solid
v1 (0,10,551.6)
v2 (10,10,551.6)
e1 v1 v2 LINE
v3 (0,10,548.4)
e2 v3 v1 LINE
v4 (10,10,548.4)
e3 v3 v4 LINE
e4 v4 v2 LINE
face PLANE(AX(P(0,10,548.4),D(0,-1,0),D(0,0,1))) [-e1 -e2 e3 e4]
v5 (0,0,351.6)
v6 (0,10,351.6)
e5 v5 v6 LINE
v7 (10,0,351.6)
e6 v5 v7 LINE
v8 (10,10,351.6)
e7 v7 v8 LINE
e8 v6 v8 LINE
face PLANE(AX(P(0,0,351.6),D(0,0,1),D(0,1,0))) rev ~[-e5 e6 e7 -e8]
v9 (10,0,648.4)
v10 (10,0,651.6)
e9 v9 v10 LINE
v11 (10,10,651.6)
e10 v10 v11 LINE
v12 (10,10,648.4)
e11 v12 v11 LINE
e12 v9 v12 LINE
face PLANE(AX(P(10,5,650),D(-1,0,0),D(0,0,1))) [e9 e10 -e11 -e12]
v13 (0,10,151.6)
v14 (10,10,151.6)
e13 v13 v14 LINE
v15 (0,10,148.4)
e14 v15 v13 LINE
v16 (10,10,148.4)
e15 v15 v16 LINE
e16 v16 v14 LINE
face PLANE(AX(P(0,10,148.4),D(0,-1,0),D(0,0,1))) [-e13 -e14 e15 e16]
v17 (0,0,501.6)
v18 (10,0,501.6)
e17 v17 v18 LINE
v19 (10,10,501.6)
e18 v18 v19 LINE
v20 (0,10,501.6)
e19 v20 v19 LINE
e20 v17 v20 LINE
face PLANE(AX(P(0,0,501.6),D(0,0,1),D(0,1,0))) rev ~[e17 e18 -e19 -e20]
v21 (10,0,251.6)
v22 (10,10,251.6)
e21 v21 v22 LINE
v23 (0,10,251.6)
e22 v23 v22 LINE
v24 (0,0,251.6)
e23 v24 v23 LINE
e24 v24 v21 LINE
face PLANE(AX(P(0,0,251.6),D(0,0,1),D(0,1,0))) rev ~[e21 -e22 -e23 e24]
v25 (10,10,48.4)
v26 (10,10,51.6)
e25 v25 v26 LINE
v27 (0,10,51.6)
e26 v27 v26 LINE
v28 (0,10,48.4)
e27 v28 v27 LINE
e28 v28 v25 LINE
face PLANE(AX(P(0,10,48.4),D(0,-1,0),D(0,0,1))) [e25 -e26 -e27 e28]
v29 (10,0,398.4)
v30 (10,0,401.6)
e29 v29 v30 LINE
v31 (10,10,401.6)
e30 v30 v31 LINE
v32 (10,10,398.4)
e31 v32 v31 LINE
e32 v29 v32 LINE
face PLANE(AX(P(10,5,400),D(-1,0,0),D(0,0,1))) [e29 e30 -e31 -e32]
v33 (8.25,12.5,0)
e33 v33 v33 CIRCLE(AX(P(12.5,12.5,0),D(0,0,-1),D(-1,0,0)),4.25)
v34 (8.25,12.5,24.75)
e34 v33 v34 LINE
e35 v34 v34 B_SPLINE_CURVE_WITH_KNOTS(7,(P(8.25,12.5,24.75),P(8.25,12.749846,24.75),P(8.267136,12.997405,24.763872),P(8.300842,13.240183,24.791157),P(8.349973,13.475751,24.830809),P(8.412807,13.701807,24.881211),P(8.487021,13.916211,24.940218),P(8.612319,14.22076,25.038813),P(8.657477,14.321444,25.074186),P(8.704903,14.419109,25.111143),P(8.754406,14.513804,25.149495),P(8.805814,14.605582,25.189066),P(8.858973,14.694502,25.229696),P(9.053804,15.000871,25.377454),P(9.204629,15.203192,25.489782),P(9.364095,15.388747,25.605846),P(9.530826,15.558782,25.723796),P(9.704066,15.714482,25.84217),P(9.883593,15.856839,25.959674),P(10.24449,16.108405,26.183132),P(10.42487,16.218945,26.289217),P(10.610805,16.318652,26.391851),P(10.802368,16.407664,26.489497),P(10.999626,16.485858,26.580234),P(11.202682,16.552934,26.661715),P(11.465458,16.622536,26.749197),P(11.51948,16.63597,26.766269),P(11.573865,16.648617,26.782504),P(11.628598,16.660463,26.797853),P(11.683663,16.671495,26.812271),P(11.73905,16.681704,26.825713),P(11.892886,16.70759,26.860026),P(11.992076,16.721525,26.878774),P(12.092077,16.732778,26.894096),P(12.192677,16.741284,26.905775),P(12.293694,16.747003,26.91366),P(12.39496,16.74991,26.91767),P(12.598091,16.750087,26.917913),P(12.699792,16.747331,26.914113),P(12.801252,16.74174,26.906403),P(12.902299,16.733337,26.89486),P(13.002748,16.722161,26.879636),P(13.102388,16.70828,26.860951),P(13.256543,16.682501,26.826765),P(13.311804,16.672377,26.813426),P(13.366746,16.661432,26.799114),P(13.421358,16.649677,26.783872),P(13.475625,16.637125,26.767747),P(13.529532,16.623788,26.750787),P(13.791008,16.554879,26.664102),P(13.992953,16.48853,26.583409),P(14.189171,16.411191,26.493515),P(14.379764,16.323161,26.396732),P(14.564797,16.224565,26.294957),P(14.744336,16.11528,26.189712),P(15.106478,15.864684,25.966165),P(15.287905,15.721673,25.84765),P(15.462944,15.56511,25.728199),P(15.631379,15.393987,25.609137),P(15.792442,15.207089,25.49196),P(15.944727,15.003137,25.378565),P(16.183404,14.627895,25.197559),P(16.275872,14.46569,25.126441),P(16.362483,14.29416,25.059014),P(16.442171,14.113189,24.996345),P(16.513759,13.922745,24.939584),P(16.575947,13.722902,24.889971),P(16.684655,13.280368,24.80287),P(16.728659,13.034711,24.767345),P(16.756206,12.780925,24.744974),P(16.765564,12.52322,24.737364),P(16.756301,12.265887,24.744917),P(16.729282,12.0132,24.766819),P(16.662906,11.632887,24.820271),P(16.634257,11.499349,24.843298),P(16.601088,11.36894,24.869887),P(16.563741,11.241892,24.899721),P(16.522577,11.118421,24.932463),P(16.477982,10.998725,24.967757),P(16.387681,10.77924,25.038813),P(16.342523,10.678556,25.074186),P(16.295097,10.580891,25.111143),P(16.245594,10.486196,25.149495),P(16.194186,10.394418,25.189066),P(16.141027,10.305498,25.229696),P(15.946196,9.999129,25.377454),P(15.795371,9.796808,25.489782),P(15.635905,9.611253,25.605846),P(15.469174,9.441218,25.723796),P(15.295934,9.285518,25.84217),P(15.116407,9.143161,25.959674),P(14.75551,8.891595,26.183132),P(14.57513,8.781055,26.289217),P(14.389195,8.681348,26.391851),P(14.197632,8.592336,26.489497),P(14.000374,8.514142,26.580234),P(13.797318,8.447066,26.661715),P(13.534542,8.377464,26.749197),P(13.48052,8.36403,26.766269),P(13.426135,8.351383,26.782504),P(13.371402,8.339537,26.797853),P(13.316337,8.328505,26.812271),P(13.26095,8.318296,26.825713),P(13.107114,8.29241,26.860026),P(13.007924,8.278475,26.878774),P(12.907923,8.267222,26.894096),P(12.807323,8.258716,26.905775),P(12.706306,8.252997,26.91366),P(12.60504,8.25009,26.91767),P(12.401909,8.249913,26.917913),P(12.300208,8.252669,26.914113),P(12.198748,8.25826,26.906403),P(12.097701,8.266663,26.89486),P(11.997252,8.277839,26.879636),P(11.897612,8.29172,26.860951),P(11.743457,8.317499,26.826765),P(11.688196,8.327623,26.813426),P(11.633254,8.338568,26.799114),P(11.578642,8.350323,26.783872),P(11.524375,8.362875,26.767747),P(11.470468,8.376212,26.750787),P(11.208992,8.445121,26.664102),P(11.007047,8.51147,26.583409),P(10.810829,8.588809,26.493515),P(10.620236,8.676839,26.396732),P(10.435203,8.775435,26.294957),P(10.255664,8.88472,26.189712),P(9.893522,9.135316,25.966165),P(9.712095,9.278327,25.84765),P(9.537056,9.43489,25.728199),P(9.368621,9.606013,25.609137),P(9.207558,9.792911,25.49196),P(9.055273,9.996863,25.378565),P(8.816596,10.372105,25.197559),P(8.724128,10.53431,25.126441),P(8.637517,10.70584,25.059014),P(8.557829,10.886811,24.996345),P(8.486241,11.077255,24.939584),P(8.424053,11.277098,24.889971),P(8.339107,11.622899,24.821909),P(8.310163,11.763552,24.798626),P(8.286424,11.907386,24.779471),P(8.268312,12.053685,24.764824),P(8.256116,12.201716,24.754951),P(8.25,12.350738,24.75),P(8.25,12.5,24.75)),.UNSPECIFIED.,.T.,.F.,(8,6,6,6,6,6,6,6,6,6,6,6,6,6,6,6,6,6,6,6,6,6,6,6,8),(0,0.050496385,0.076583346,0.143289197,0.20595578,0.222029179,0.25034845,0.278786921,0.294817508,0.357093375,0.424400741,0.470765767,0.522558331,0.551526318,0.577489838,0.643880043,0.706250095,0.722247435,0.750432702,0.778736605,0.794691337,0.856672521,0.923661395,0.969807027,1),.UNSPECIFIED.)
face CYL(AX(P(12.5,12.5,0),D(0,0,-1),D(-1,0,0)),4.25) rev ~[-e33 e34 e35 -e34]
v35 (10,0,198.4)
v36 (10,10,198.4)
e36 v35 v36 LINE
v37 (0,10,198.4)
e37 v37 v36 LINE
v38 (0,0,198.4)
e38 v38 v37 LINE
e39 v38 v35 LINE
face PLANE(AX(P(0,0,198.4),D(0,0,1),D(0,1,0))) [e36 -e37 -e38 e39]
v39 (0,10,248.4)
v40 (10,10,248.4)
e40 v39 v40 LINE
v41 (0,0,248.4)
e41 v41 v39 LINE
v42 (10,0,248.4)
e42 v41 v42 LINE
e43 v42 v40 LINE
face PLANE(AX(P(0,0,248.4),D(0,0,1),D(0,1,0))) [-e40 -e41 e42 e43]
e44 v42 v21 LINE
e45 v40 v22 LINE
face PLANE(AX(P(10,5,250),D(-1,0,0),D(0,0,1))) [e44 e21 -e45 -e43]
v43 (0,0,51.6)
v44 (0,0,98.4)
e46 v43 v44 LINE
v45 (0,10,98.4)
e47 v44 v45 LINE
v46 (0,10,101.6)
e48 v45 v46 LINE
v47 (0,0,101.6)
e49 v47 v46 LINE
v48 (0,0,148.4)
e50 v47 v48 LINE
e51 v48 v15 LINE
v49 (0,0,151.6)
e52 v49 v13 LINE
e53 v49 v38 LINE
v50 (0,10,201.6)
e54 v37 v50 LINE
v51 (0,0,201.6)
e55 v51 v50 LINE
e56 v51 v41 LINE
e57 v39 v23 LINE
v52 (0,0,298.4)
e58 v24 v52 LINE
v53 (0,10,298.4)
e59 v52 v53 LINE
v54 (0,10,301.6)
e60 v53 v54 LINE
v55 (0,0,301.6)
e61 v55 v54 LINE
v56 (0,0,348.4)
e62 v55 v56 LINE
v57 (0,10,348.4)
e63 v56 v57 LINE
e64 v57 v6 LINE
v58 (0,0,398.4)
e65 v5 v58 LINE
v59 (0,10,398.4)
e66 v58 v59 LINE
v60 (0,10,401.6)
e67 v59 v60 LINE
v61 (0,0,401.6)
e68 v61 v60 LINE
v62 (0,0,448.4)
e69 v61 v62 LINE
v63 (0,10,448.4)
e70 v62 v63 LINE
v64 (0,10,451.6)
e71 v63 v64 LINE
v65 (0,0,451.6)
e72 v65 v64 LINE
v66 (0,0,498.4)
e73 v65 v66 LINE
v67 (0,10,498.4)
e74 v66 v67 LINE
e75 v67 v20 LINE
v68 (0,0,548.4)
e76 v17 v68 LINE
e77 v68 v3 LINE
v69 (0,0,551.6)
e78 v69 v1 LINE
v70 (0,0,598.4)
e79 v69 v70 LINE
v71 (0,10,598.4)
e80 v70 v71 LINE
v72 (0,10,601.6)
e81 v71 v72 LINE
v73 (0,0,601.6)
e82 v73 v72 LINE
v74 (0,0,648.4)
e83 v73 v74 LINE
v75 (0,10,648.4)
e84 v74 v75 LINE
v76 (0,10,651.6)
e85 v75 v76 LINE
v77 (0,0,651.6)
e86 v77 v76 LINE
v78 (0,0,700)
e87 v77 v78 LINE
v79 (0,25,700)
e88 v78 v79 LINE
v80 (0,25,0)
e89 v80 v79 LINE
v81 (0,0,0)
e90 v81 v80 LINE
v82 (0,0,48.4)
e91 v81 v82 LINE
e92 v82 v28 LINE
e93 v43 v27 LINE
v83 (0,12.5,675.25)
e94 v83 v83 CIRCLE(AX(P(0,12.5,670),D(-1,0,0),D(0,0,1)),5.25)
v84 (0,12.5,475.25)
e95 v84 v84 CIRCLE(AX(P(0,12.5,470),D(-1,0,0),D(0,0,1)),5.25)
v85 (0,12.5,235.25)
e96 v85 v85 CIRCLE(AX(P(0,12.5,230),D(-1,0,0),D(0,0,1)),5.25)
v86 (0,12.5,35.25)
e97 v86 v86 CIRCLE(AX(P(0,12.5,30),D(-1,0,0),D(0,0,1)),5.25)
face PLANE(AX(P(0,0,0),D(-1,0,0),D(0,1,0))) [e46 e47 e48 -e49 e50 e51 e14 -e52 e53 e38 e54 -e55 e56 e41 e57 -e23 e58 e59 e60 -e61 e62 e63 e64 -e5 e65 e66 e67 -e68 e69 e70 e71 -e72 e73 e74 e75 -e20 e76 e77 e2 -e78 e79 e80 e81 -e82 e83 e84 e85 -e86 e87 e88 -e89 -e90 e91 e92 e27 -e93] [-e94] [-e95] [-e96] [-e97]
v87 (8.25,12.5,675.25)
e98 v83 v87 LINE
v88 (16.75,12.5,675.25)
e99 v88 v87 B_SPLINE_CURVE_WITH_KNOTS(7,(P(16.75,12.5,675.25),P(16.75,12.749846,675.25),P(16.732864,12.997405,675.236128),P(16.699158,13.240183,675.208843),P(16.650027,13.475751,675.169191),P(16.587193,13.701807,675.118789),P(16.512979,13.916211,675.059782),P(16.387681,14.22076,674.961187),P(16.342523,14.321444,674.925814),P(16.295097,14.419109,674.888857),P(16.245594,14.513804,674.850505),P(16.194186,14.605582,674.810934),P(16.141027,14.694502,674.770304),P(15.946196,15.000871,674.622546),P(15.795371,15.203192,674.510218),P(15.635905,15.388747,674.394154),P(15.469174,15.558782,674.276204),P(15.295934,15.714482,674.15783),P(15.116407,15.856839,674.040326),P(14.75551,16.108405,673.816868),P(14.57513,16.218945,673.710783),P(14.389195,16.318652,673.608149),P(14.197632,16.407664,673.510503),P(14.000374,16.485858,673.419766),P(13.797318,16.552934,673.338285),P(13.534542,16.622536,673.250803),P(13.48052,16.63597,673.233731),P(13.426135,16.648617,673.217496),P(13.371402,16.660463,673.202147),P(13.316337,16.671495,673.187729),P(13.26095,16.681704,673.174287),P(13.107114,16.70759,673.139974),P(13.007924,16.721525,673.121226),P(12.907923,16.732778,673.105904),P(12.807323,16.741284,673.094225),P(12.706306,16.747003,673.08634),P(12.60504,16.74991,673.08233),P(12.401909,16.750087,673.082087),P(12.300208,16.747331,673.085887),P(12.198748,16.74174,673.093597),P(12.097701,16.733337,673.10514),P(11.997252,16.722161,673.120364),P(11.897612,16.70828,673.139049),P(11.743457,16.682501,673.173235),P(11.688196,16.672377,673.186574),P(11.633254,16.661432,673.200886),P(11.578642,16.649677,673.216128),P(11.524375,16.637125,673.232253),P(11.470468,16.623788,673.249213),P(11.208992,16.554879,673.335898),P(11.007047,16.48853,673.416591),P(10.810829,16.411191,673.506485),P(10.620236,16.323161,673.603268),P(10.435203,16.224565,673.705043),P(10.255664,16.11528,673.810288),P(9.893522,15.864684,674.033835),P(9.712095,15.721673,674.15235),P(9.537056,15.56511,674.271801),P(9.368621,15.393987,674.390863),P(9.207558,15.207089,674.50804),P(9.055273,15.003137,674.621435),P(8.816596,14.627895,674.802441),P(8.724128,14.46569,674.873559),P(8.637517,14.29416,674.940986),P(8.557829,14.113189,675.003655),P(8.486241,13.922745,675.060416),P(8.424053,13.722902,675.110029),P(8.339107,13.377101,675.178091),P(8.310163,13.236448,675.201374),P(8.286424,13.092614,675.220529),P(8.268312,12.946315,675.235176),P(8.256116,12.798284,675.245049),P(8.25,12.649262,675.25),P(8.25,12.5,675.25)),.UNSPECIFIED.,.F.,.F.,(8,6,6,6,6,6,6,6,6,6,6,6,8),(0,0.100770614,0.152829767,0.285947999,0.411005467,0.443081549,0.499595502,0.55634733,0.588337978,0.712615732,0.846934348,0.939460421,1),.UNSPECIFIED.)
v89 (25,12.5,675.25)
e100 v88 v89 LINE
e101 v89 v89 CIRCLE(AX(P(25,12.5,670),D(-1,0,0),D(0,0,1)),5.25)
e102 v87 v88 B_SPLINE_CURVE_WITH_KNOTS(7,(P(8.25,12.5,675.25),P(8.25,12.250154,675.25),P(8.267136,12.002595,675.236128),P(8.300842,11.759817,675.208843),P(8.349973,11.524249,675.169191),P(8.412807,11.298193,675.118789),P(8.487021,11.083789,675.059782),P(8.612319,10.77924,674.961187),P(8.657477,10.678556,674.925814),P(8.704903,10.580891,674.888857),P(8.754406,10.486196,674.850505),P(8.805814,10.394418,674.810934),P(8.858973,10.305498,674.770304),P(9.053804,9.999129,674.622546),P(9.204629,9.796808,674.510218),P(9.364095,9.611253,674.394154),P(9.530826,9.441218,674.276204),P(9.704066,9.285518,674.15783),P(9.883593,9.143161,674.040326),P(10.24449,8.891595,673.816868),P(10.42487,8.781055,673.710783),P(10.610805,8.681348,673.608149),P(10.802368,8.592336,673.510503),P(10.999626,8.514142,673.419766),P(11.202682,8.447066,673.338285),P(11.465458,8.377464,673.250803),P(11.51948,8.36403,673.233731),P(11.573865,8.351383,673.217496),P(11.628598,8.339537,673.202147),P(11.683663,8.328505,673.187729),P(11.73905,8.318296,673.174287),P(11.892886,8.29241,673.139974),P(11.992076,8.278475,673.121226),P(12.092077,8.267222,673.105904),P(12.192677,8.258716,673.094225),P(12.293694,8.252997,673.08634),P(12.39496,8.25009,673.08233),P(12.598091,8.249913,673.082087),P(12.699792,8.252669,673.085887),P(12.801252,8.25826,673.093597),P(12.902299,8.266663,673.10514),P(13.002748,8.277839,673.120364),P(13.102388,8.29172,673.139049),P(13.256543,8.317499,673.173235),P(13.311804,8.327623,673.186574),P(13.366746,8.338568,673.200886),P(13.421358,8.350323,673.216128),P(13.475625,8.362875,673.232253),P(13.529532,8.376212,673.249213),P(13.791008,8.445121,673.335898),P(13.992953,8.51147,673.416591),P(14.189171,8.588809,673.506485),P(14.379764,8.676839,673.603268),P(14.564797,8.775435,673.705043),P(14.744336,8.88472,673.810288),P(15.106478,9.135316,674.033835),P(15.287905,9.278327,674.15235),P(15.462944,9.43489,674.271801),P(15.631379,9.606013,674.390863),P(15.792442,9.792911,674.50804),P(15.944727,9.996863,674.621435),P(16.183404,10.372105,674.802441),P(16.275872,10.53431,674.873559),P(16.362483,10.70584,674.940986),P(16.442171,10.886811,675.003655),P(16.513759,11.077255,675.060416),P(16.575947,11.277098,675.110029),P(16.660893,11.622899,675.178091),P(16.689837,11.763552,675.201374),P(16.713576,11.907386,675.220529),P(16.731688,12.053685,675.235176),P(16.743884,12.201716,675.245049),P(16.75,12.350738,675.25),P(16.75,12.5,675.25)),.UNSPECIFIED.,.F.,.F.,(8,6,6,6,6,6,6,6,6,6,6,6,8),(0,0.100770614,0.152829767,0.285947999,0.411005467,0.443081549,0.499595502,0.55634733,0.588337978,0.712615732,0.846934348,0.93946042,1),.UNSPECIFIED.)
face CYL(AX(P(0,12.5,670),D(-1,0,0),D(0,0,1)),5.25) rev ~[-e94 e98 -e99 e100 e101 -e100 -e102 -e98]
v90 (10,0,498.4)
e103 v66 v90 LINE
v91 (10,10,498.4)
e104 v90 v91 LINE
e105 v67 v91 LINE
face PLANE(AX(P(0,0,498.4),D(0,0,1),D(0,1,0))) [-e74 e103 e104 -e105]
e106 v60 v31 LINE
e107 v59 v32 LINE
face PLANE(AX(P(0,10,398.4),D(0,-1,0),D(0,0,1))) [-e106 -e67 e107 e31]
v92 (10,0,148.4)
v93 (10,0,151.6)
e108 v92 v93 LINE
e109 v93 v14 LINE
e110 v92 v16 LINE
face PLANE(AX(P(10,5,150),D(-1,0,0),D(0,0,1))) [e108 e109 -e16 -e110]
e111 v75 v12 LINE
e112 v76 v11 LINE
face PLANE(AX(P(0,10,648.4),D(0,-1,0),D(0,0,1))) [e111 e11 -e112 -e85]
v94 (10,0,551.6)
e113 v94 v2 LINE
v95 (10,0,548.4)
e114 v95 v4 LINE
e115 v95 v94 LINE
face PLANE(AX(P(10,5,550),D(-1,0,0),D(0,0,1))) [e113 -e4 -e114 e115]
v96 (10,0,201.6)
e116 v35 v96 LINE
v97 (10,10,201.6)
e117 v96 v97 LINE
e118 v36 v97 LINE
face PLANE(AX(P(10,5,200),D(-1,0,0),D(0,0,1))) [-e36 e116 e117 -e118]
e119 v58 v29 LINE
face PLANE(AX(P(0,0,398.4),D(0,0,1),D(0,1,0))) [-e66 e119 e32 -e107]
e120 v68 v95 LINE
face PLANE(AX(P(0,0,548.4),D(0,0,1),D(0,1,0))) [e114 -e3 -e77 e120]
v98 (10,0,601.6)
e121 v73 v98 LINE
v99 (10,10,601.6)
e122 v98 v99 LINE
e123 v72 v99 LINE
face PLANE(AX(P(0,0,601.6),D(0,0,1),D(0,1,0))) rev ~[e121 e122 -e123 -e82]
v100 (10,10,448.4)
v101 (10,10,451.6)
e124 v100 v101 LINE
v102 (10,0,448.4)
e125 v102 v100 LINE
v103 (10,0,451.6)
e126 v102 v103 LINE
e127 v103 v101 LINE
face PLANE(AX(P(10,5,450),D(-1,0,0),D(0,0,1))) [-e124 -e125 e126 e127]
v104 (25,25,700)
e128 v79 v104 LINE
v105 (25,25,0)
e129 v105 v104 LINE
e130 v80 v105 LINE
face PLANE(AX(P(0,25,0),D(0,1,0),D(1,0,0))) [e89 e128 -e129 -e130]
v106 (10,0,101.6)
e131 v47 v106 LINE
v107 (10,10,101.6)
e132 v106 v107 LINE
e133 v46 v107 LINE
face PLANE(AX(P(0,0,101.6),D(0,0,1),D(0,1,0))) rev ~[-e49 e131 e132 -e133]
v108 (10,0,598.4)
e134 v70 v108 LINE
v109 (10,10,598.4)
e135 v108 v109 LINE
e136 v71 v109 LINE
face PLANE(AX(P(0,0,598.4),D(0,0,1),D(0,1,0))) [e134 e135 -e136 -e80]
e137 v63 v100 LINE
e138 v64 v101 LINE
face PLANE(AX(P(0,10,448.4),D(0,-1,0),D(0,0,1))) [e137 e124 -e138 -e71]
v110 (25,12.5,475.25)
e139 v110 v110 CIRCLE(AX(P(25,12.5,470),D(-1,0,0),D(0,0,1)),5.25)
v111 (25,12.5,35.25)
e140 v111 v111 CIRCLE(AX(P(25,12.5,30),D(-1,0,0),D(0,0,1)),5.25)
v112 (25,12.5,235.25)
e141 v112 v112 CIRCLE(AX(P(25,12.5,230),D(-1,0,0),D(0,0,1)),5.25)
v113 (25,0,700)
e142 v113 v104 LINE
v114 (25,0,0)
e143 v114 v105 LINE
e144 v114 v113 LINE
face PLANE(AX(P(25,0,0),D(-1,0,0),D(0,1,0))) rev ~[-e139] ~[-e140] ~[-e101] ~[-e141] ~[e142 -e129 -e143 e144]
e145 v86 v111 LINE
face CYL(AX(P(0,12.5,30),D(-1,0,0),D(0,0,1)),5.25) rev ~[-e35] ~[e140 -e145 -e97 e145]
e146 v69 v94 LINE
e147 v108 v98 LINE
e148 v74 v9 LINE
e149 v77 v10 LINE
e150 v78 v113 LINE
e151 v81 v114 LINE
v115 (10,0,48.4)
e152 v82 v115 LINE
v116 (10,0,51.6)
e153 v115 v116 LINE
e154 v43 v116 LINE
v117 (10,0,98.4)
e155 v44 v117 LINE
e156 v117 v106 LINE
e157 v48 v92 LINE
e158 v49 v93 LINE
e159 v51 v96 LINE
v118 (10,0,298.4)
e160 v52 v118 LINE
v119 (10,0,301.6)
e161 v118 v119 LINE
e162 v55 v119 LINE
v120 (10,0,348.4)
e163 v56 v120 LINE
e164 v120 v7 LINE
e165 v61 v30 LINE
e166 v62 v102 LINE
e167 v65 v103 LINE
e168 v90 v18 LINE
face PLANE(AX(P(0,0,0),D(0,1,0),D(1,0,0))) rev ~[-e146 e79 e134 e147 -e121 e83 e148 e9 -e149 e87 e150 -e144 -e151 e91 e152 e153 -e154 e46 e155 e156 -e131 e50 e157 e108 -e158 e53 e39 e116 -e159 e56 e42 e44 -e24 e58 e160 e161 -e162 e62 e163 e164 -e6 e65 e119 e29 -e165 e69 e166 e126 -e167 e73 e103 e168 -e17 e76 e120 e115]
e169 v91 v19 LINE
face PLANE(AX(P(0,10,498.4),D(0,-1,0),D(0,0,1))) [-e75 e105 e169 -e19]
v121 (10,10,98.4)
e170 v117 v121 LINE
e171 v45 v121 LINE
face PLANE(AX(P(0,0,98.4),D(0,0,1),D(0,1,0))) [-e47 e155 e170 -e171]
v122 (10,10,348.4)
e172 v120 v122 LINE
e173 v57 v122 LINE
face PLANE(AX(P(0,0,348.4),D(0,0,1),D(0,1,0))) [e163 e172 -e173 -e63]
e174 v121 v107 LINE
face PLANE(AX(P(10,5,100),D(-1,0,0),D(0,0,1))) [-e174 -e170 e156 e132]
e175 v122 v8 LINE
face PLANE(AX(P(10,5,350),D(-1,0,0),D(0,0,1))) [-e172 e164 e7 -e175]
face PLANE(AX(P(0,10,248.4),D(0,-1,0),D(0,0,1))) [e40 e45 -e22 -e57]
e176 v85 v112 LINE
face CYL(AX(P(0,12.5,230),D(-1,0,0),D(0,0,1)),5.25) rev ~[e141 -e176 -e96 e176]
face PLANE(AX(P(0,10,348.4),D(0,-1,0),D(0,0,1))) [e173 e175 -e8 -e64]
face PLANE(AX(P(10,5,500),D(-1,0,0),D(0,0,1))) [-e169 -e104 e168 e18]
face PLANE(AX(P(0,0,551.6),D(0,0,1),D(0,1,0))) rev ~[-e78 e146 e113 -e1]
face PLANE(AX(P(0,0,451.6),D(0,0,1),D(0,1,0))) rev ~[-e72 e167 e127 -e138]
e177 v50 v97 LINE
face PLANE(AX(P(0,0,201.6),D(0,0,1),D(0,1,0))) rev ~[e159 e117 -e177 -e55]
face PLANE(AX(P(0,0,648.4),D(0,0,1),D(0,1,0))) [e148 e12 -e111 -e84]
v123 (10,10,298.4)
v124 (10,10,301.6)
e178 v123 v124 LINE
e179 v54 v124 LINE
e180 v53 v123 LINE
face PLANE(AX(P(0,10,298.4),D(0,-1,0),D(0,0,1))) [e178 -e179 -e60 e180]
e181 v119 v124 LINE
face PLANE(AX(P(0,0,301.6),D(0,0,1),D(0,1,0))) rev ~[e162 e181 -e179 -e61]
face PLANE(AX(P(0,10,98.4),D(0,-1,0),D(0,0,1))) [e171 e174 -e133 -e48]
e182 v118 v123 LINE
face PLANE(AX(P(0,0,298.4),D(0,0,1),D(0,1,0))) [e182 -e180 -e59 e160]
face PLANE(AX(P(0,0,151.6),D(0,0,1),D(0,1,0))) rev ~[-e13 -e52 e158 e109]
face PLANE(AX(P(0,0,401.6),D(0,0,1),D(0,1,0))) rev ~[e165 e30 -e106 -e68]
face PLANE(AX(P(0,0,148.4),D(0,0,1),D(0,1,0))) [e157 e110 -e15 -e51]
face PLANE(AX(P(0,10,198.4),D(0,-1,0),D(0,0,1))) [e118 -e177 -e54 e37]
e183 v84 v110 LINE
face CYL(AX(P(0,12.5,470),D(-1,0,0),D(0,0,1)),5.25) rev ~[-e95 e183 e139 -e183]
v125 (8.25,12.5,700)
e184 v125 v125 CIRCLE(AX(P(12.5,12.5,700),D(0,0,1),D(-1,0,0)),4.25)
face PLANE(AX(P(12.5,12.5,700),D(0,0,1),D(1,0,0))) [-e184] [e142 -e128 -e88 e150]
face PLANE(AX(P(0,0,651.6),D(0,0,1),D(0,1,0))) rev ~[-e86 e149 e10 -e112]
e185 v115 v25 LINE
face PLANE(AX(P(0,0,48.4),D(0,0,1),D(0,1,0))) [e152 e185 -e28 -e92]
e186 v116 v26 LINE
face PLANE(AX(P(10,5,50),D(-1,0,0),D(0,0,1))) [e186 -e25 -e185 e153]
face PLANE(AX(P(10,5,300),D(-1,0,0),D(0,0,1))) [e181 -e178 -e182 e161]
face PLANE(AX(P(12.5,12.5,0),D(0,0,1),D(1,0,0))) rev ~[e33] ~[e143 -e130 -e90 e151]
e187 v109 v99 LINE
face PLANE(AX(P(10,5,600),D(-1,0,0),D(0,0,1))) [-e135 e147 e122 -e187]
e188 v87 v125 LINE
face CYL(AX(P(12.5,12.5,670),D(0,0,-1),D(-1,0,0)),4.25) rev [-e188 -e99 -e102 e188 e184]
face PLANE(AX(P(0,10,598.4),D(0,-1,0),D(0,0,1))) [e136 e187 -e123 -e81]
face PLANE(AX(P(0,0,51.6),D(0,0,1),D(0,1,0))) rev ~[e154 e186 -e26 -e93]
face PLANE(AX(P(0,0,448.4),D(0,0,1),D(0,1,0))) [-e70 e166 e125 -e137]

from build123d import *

# Parameters (mm, degrees)
SKETCH_1_W          = 25
SKETCH_1_H          = 25
EXTRUDE_1_DEPTH     = 700
SKETCH_2_W          = 3.2
SKETCH_2_H          = 10
CUT_EXTRUDE_1_DEPTH = 10
SKETCH_3_R          = 5.25
CUT_EXTRUDE_2_DEPTH = 701.892288444
SKETCH_4_R          = 4.25
CUT_EXTRUDE_3_DEPTH = 30
CUT_EXTRUDE_START   = -30
SKETCH_5_R          = 4.25
CUT_EXTRUDE_4_DEPTH = 30


with BuildPart() as part:
    # Эскиз1 → Бобышка-Вытянуть1 (new body)
    with BuildSketch(Plane.XY):
        with Locations((12.5, 12.5)):
            Rectangle(SKETCH_1_W, SKETCH_1_H)
    extrude(amount=EXTRUDE_1_DEPTH)

    # Эскиз2 → Вырез-Вытянуть1 (cut)
    with BuildSketch(Plane.ZY):
        with Locations((50, 5)):
            Rectangle(SKETCH_2_W, SKETCH_2_H)
        with Locations((100, 5)):
            Rectangle(SKETCH_2_W, SKETCH_2_H)
        with Locations((150, 5)):
            Rectangle(SKETCH_2_W, SKETCH_2_H)
        with Locations((200, 5)):
            Rectangle(SKETCH_2_W, SKETCH_2_H)
        with Locations((250, 5)):
            Rectangle(SKETCH_2_W, SKETCH_2_H)
        with Locations((300, 5)):
            Rectangle(SKETCH_2_W, SKETCH_2_H)
        with Locations((350, 5)):
            Rectangle(SKETCH_2_W, SKETCH_2_H)
        with Locations((400, 5)):
            Rectangle(SKETCH_2_W, SKETCH_2_H)
        with Locations((450, 5)):
            Rectangle(SKETCH_2_W, SKETCH_2_H)
        with Locations((500, 5)):
            Rectangle(SKETCH_2_W, SKETCH_2_H)
        with Locations((550, 5)):
            Rectangle(SKETCH_2_W, SKETCH_2_H)
        with Locations((600, 5)):
            Rectangle(SKETCH_2_W, SKETCH_2_H)
        with Locations((650, 5)):
            Rectangle(SKETCH_2_W, SKETCH_2_H)
    extrude(amount=-CUT_EXTRUDE_1_DEPTH, mode=Mode.SUBTRACT)

    # Эскиз3 → Вырез-Вытянуть2 (cut, through all)
    with BuildSketch(Plane.ZY):
        with Locations((30, 12.5)):
            Circle(SKETCH_3_R)
        with Locations((670, 12.5)):
            Circle(SKETCH_3_R)
        with Locations((230, 12.5)):
            Circle(SKETCH_3_R)
        with Locations((470, 12.5)):
            Circle(SKETCH_3_R)
    extrude(amount=-CUT_EXTRUDE_2_DEPTH, mode=Mode.SUBTRACT)

    # Эскиз4 → Вырез-Вытянуть3 (cut)
    with BuildSketch(Plane(origin=(0, 0, 0), x_dir=(-1, 0, 0), z_dir=(0, 0, -1))):
        with Locations((-12.5, 12.5)):
            Circle(SKETCH_4_R)
    extrude(amount=-CUT_EXTRUDE_3_DEPTH, mode=Mode.SUBTRACT)

    # Эскиз5 → Вырез-Вытянуть4 (cut)
    with BuildSketch(Plane.XY.offset(700).offset(CUT_EXTRUDE_START)):
        with Locations(Location((12.5, 12.5, 0), (0, 0, 180))):
            Circle(SKETCH_5_R)
    extrude(amount=CUT_EXTRUDE_4_DEPTH, mode=Mode.SUBTRACT)


solid = part.part
